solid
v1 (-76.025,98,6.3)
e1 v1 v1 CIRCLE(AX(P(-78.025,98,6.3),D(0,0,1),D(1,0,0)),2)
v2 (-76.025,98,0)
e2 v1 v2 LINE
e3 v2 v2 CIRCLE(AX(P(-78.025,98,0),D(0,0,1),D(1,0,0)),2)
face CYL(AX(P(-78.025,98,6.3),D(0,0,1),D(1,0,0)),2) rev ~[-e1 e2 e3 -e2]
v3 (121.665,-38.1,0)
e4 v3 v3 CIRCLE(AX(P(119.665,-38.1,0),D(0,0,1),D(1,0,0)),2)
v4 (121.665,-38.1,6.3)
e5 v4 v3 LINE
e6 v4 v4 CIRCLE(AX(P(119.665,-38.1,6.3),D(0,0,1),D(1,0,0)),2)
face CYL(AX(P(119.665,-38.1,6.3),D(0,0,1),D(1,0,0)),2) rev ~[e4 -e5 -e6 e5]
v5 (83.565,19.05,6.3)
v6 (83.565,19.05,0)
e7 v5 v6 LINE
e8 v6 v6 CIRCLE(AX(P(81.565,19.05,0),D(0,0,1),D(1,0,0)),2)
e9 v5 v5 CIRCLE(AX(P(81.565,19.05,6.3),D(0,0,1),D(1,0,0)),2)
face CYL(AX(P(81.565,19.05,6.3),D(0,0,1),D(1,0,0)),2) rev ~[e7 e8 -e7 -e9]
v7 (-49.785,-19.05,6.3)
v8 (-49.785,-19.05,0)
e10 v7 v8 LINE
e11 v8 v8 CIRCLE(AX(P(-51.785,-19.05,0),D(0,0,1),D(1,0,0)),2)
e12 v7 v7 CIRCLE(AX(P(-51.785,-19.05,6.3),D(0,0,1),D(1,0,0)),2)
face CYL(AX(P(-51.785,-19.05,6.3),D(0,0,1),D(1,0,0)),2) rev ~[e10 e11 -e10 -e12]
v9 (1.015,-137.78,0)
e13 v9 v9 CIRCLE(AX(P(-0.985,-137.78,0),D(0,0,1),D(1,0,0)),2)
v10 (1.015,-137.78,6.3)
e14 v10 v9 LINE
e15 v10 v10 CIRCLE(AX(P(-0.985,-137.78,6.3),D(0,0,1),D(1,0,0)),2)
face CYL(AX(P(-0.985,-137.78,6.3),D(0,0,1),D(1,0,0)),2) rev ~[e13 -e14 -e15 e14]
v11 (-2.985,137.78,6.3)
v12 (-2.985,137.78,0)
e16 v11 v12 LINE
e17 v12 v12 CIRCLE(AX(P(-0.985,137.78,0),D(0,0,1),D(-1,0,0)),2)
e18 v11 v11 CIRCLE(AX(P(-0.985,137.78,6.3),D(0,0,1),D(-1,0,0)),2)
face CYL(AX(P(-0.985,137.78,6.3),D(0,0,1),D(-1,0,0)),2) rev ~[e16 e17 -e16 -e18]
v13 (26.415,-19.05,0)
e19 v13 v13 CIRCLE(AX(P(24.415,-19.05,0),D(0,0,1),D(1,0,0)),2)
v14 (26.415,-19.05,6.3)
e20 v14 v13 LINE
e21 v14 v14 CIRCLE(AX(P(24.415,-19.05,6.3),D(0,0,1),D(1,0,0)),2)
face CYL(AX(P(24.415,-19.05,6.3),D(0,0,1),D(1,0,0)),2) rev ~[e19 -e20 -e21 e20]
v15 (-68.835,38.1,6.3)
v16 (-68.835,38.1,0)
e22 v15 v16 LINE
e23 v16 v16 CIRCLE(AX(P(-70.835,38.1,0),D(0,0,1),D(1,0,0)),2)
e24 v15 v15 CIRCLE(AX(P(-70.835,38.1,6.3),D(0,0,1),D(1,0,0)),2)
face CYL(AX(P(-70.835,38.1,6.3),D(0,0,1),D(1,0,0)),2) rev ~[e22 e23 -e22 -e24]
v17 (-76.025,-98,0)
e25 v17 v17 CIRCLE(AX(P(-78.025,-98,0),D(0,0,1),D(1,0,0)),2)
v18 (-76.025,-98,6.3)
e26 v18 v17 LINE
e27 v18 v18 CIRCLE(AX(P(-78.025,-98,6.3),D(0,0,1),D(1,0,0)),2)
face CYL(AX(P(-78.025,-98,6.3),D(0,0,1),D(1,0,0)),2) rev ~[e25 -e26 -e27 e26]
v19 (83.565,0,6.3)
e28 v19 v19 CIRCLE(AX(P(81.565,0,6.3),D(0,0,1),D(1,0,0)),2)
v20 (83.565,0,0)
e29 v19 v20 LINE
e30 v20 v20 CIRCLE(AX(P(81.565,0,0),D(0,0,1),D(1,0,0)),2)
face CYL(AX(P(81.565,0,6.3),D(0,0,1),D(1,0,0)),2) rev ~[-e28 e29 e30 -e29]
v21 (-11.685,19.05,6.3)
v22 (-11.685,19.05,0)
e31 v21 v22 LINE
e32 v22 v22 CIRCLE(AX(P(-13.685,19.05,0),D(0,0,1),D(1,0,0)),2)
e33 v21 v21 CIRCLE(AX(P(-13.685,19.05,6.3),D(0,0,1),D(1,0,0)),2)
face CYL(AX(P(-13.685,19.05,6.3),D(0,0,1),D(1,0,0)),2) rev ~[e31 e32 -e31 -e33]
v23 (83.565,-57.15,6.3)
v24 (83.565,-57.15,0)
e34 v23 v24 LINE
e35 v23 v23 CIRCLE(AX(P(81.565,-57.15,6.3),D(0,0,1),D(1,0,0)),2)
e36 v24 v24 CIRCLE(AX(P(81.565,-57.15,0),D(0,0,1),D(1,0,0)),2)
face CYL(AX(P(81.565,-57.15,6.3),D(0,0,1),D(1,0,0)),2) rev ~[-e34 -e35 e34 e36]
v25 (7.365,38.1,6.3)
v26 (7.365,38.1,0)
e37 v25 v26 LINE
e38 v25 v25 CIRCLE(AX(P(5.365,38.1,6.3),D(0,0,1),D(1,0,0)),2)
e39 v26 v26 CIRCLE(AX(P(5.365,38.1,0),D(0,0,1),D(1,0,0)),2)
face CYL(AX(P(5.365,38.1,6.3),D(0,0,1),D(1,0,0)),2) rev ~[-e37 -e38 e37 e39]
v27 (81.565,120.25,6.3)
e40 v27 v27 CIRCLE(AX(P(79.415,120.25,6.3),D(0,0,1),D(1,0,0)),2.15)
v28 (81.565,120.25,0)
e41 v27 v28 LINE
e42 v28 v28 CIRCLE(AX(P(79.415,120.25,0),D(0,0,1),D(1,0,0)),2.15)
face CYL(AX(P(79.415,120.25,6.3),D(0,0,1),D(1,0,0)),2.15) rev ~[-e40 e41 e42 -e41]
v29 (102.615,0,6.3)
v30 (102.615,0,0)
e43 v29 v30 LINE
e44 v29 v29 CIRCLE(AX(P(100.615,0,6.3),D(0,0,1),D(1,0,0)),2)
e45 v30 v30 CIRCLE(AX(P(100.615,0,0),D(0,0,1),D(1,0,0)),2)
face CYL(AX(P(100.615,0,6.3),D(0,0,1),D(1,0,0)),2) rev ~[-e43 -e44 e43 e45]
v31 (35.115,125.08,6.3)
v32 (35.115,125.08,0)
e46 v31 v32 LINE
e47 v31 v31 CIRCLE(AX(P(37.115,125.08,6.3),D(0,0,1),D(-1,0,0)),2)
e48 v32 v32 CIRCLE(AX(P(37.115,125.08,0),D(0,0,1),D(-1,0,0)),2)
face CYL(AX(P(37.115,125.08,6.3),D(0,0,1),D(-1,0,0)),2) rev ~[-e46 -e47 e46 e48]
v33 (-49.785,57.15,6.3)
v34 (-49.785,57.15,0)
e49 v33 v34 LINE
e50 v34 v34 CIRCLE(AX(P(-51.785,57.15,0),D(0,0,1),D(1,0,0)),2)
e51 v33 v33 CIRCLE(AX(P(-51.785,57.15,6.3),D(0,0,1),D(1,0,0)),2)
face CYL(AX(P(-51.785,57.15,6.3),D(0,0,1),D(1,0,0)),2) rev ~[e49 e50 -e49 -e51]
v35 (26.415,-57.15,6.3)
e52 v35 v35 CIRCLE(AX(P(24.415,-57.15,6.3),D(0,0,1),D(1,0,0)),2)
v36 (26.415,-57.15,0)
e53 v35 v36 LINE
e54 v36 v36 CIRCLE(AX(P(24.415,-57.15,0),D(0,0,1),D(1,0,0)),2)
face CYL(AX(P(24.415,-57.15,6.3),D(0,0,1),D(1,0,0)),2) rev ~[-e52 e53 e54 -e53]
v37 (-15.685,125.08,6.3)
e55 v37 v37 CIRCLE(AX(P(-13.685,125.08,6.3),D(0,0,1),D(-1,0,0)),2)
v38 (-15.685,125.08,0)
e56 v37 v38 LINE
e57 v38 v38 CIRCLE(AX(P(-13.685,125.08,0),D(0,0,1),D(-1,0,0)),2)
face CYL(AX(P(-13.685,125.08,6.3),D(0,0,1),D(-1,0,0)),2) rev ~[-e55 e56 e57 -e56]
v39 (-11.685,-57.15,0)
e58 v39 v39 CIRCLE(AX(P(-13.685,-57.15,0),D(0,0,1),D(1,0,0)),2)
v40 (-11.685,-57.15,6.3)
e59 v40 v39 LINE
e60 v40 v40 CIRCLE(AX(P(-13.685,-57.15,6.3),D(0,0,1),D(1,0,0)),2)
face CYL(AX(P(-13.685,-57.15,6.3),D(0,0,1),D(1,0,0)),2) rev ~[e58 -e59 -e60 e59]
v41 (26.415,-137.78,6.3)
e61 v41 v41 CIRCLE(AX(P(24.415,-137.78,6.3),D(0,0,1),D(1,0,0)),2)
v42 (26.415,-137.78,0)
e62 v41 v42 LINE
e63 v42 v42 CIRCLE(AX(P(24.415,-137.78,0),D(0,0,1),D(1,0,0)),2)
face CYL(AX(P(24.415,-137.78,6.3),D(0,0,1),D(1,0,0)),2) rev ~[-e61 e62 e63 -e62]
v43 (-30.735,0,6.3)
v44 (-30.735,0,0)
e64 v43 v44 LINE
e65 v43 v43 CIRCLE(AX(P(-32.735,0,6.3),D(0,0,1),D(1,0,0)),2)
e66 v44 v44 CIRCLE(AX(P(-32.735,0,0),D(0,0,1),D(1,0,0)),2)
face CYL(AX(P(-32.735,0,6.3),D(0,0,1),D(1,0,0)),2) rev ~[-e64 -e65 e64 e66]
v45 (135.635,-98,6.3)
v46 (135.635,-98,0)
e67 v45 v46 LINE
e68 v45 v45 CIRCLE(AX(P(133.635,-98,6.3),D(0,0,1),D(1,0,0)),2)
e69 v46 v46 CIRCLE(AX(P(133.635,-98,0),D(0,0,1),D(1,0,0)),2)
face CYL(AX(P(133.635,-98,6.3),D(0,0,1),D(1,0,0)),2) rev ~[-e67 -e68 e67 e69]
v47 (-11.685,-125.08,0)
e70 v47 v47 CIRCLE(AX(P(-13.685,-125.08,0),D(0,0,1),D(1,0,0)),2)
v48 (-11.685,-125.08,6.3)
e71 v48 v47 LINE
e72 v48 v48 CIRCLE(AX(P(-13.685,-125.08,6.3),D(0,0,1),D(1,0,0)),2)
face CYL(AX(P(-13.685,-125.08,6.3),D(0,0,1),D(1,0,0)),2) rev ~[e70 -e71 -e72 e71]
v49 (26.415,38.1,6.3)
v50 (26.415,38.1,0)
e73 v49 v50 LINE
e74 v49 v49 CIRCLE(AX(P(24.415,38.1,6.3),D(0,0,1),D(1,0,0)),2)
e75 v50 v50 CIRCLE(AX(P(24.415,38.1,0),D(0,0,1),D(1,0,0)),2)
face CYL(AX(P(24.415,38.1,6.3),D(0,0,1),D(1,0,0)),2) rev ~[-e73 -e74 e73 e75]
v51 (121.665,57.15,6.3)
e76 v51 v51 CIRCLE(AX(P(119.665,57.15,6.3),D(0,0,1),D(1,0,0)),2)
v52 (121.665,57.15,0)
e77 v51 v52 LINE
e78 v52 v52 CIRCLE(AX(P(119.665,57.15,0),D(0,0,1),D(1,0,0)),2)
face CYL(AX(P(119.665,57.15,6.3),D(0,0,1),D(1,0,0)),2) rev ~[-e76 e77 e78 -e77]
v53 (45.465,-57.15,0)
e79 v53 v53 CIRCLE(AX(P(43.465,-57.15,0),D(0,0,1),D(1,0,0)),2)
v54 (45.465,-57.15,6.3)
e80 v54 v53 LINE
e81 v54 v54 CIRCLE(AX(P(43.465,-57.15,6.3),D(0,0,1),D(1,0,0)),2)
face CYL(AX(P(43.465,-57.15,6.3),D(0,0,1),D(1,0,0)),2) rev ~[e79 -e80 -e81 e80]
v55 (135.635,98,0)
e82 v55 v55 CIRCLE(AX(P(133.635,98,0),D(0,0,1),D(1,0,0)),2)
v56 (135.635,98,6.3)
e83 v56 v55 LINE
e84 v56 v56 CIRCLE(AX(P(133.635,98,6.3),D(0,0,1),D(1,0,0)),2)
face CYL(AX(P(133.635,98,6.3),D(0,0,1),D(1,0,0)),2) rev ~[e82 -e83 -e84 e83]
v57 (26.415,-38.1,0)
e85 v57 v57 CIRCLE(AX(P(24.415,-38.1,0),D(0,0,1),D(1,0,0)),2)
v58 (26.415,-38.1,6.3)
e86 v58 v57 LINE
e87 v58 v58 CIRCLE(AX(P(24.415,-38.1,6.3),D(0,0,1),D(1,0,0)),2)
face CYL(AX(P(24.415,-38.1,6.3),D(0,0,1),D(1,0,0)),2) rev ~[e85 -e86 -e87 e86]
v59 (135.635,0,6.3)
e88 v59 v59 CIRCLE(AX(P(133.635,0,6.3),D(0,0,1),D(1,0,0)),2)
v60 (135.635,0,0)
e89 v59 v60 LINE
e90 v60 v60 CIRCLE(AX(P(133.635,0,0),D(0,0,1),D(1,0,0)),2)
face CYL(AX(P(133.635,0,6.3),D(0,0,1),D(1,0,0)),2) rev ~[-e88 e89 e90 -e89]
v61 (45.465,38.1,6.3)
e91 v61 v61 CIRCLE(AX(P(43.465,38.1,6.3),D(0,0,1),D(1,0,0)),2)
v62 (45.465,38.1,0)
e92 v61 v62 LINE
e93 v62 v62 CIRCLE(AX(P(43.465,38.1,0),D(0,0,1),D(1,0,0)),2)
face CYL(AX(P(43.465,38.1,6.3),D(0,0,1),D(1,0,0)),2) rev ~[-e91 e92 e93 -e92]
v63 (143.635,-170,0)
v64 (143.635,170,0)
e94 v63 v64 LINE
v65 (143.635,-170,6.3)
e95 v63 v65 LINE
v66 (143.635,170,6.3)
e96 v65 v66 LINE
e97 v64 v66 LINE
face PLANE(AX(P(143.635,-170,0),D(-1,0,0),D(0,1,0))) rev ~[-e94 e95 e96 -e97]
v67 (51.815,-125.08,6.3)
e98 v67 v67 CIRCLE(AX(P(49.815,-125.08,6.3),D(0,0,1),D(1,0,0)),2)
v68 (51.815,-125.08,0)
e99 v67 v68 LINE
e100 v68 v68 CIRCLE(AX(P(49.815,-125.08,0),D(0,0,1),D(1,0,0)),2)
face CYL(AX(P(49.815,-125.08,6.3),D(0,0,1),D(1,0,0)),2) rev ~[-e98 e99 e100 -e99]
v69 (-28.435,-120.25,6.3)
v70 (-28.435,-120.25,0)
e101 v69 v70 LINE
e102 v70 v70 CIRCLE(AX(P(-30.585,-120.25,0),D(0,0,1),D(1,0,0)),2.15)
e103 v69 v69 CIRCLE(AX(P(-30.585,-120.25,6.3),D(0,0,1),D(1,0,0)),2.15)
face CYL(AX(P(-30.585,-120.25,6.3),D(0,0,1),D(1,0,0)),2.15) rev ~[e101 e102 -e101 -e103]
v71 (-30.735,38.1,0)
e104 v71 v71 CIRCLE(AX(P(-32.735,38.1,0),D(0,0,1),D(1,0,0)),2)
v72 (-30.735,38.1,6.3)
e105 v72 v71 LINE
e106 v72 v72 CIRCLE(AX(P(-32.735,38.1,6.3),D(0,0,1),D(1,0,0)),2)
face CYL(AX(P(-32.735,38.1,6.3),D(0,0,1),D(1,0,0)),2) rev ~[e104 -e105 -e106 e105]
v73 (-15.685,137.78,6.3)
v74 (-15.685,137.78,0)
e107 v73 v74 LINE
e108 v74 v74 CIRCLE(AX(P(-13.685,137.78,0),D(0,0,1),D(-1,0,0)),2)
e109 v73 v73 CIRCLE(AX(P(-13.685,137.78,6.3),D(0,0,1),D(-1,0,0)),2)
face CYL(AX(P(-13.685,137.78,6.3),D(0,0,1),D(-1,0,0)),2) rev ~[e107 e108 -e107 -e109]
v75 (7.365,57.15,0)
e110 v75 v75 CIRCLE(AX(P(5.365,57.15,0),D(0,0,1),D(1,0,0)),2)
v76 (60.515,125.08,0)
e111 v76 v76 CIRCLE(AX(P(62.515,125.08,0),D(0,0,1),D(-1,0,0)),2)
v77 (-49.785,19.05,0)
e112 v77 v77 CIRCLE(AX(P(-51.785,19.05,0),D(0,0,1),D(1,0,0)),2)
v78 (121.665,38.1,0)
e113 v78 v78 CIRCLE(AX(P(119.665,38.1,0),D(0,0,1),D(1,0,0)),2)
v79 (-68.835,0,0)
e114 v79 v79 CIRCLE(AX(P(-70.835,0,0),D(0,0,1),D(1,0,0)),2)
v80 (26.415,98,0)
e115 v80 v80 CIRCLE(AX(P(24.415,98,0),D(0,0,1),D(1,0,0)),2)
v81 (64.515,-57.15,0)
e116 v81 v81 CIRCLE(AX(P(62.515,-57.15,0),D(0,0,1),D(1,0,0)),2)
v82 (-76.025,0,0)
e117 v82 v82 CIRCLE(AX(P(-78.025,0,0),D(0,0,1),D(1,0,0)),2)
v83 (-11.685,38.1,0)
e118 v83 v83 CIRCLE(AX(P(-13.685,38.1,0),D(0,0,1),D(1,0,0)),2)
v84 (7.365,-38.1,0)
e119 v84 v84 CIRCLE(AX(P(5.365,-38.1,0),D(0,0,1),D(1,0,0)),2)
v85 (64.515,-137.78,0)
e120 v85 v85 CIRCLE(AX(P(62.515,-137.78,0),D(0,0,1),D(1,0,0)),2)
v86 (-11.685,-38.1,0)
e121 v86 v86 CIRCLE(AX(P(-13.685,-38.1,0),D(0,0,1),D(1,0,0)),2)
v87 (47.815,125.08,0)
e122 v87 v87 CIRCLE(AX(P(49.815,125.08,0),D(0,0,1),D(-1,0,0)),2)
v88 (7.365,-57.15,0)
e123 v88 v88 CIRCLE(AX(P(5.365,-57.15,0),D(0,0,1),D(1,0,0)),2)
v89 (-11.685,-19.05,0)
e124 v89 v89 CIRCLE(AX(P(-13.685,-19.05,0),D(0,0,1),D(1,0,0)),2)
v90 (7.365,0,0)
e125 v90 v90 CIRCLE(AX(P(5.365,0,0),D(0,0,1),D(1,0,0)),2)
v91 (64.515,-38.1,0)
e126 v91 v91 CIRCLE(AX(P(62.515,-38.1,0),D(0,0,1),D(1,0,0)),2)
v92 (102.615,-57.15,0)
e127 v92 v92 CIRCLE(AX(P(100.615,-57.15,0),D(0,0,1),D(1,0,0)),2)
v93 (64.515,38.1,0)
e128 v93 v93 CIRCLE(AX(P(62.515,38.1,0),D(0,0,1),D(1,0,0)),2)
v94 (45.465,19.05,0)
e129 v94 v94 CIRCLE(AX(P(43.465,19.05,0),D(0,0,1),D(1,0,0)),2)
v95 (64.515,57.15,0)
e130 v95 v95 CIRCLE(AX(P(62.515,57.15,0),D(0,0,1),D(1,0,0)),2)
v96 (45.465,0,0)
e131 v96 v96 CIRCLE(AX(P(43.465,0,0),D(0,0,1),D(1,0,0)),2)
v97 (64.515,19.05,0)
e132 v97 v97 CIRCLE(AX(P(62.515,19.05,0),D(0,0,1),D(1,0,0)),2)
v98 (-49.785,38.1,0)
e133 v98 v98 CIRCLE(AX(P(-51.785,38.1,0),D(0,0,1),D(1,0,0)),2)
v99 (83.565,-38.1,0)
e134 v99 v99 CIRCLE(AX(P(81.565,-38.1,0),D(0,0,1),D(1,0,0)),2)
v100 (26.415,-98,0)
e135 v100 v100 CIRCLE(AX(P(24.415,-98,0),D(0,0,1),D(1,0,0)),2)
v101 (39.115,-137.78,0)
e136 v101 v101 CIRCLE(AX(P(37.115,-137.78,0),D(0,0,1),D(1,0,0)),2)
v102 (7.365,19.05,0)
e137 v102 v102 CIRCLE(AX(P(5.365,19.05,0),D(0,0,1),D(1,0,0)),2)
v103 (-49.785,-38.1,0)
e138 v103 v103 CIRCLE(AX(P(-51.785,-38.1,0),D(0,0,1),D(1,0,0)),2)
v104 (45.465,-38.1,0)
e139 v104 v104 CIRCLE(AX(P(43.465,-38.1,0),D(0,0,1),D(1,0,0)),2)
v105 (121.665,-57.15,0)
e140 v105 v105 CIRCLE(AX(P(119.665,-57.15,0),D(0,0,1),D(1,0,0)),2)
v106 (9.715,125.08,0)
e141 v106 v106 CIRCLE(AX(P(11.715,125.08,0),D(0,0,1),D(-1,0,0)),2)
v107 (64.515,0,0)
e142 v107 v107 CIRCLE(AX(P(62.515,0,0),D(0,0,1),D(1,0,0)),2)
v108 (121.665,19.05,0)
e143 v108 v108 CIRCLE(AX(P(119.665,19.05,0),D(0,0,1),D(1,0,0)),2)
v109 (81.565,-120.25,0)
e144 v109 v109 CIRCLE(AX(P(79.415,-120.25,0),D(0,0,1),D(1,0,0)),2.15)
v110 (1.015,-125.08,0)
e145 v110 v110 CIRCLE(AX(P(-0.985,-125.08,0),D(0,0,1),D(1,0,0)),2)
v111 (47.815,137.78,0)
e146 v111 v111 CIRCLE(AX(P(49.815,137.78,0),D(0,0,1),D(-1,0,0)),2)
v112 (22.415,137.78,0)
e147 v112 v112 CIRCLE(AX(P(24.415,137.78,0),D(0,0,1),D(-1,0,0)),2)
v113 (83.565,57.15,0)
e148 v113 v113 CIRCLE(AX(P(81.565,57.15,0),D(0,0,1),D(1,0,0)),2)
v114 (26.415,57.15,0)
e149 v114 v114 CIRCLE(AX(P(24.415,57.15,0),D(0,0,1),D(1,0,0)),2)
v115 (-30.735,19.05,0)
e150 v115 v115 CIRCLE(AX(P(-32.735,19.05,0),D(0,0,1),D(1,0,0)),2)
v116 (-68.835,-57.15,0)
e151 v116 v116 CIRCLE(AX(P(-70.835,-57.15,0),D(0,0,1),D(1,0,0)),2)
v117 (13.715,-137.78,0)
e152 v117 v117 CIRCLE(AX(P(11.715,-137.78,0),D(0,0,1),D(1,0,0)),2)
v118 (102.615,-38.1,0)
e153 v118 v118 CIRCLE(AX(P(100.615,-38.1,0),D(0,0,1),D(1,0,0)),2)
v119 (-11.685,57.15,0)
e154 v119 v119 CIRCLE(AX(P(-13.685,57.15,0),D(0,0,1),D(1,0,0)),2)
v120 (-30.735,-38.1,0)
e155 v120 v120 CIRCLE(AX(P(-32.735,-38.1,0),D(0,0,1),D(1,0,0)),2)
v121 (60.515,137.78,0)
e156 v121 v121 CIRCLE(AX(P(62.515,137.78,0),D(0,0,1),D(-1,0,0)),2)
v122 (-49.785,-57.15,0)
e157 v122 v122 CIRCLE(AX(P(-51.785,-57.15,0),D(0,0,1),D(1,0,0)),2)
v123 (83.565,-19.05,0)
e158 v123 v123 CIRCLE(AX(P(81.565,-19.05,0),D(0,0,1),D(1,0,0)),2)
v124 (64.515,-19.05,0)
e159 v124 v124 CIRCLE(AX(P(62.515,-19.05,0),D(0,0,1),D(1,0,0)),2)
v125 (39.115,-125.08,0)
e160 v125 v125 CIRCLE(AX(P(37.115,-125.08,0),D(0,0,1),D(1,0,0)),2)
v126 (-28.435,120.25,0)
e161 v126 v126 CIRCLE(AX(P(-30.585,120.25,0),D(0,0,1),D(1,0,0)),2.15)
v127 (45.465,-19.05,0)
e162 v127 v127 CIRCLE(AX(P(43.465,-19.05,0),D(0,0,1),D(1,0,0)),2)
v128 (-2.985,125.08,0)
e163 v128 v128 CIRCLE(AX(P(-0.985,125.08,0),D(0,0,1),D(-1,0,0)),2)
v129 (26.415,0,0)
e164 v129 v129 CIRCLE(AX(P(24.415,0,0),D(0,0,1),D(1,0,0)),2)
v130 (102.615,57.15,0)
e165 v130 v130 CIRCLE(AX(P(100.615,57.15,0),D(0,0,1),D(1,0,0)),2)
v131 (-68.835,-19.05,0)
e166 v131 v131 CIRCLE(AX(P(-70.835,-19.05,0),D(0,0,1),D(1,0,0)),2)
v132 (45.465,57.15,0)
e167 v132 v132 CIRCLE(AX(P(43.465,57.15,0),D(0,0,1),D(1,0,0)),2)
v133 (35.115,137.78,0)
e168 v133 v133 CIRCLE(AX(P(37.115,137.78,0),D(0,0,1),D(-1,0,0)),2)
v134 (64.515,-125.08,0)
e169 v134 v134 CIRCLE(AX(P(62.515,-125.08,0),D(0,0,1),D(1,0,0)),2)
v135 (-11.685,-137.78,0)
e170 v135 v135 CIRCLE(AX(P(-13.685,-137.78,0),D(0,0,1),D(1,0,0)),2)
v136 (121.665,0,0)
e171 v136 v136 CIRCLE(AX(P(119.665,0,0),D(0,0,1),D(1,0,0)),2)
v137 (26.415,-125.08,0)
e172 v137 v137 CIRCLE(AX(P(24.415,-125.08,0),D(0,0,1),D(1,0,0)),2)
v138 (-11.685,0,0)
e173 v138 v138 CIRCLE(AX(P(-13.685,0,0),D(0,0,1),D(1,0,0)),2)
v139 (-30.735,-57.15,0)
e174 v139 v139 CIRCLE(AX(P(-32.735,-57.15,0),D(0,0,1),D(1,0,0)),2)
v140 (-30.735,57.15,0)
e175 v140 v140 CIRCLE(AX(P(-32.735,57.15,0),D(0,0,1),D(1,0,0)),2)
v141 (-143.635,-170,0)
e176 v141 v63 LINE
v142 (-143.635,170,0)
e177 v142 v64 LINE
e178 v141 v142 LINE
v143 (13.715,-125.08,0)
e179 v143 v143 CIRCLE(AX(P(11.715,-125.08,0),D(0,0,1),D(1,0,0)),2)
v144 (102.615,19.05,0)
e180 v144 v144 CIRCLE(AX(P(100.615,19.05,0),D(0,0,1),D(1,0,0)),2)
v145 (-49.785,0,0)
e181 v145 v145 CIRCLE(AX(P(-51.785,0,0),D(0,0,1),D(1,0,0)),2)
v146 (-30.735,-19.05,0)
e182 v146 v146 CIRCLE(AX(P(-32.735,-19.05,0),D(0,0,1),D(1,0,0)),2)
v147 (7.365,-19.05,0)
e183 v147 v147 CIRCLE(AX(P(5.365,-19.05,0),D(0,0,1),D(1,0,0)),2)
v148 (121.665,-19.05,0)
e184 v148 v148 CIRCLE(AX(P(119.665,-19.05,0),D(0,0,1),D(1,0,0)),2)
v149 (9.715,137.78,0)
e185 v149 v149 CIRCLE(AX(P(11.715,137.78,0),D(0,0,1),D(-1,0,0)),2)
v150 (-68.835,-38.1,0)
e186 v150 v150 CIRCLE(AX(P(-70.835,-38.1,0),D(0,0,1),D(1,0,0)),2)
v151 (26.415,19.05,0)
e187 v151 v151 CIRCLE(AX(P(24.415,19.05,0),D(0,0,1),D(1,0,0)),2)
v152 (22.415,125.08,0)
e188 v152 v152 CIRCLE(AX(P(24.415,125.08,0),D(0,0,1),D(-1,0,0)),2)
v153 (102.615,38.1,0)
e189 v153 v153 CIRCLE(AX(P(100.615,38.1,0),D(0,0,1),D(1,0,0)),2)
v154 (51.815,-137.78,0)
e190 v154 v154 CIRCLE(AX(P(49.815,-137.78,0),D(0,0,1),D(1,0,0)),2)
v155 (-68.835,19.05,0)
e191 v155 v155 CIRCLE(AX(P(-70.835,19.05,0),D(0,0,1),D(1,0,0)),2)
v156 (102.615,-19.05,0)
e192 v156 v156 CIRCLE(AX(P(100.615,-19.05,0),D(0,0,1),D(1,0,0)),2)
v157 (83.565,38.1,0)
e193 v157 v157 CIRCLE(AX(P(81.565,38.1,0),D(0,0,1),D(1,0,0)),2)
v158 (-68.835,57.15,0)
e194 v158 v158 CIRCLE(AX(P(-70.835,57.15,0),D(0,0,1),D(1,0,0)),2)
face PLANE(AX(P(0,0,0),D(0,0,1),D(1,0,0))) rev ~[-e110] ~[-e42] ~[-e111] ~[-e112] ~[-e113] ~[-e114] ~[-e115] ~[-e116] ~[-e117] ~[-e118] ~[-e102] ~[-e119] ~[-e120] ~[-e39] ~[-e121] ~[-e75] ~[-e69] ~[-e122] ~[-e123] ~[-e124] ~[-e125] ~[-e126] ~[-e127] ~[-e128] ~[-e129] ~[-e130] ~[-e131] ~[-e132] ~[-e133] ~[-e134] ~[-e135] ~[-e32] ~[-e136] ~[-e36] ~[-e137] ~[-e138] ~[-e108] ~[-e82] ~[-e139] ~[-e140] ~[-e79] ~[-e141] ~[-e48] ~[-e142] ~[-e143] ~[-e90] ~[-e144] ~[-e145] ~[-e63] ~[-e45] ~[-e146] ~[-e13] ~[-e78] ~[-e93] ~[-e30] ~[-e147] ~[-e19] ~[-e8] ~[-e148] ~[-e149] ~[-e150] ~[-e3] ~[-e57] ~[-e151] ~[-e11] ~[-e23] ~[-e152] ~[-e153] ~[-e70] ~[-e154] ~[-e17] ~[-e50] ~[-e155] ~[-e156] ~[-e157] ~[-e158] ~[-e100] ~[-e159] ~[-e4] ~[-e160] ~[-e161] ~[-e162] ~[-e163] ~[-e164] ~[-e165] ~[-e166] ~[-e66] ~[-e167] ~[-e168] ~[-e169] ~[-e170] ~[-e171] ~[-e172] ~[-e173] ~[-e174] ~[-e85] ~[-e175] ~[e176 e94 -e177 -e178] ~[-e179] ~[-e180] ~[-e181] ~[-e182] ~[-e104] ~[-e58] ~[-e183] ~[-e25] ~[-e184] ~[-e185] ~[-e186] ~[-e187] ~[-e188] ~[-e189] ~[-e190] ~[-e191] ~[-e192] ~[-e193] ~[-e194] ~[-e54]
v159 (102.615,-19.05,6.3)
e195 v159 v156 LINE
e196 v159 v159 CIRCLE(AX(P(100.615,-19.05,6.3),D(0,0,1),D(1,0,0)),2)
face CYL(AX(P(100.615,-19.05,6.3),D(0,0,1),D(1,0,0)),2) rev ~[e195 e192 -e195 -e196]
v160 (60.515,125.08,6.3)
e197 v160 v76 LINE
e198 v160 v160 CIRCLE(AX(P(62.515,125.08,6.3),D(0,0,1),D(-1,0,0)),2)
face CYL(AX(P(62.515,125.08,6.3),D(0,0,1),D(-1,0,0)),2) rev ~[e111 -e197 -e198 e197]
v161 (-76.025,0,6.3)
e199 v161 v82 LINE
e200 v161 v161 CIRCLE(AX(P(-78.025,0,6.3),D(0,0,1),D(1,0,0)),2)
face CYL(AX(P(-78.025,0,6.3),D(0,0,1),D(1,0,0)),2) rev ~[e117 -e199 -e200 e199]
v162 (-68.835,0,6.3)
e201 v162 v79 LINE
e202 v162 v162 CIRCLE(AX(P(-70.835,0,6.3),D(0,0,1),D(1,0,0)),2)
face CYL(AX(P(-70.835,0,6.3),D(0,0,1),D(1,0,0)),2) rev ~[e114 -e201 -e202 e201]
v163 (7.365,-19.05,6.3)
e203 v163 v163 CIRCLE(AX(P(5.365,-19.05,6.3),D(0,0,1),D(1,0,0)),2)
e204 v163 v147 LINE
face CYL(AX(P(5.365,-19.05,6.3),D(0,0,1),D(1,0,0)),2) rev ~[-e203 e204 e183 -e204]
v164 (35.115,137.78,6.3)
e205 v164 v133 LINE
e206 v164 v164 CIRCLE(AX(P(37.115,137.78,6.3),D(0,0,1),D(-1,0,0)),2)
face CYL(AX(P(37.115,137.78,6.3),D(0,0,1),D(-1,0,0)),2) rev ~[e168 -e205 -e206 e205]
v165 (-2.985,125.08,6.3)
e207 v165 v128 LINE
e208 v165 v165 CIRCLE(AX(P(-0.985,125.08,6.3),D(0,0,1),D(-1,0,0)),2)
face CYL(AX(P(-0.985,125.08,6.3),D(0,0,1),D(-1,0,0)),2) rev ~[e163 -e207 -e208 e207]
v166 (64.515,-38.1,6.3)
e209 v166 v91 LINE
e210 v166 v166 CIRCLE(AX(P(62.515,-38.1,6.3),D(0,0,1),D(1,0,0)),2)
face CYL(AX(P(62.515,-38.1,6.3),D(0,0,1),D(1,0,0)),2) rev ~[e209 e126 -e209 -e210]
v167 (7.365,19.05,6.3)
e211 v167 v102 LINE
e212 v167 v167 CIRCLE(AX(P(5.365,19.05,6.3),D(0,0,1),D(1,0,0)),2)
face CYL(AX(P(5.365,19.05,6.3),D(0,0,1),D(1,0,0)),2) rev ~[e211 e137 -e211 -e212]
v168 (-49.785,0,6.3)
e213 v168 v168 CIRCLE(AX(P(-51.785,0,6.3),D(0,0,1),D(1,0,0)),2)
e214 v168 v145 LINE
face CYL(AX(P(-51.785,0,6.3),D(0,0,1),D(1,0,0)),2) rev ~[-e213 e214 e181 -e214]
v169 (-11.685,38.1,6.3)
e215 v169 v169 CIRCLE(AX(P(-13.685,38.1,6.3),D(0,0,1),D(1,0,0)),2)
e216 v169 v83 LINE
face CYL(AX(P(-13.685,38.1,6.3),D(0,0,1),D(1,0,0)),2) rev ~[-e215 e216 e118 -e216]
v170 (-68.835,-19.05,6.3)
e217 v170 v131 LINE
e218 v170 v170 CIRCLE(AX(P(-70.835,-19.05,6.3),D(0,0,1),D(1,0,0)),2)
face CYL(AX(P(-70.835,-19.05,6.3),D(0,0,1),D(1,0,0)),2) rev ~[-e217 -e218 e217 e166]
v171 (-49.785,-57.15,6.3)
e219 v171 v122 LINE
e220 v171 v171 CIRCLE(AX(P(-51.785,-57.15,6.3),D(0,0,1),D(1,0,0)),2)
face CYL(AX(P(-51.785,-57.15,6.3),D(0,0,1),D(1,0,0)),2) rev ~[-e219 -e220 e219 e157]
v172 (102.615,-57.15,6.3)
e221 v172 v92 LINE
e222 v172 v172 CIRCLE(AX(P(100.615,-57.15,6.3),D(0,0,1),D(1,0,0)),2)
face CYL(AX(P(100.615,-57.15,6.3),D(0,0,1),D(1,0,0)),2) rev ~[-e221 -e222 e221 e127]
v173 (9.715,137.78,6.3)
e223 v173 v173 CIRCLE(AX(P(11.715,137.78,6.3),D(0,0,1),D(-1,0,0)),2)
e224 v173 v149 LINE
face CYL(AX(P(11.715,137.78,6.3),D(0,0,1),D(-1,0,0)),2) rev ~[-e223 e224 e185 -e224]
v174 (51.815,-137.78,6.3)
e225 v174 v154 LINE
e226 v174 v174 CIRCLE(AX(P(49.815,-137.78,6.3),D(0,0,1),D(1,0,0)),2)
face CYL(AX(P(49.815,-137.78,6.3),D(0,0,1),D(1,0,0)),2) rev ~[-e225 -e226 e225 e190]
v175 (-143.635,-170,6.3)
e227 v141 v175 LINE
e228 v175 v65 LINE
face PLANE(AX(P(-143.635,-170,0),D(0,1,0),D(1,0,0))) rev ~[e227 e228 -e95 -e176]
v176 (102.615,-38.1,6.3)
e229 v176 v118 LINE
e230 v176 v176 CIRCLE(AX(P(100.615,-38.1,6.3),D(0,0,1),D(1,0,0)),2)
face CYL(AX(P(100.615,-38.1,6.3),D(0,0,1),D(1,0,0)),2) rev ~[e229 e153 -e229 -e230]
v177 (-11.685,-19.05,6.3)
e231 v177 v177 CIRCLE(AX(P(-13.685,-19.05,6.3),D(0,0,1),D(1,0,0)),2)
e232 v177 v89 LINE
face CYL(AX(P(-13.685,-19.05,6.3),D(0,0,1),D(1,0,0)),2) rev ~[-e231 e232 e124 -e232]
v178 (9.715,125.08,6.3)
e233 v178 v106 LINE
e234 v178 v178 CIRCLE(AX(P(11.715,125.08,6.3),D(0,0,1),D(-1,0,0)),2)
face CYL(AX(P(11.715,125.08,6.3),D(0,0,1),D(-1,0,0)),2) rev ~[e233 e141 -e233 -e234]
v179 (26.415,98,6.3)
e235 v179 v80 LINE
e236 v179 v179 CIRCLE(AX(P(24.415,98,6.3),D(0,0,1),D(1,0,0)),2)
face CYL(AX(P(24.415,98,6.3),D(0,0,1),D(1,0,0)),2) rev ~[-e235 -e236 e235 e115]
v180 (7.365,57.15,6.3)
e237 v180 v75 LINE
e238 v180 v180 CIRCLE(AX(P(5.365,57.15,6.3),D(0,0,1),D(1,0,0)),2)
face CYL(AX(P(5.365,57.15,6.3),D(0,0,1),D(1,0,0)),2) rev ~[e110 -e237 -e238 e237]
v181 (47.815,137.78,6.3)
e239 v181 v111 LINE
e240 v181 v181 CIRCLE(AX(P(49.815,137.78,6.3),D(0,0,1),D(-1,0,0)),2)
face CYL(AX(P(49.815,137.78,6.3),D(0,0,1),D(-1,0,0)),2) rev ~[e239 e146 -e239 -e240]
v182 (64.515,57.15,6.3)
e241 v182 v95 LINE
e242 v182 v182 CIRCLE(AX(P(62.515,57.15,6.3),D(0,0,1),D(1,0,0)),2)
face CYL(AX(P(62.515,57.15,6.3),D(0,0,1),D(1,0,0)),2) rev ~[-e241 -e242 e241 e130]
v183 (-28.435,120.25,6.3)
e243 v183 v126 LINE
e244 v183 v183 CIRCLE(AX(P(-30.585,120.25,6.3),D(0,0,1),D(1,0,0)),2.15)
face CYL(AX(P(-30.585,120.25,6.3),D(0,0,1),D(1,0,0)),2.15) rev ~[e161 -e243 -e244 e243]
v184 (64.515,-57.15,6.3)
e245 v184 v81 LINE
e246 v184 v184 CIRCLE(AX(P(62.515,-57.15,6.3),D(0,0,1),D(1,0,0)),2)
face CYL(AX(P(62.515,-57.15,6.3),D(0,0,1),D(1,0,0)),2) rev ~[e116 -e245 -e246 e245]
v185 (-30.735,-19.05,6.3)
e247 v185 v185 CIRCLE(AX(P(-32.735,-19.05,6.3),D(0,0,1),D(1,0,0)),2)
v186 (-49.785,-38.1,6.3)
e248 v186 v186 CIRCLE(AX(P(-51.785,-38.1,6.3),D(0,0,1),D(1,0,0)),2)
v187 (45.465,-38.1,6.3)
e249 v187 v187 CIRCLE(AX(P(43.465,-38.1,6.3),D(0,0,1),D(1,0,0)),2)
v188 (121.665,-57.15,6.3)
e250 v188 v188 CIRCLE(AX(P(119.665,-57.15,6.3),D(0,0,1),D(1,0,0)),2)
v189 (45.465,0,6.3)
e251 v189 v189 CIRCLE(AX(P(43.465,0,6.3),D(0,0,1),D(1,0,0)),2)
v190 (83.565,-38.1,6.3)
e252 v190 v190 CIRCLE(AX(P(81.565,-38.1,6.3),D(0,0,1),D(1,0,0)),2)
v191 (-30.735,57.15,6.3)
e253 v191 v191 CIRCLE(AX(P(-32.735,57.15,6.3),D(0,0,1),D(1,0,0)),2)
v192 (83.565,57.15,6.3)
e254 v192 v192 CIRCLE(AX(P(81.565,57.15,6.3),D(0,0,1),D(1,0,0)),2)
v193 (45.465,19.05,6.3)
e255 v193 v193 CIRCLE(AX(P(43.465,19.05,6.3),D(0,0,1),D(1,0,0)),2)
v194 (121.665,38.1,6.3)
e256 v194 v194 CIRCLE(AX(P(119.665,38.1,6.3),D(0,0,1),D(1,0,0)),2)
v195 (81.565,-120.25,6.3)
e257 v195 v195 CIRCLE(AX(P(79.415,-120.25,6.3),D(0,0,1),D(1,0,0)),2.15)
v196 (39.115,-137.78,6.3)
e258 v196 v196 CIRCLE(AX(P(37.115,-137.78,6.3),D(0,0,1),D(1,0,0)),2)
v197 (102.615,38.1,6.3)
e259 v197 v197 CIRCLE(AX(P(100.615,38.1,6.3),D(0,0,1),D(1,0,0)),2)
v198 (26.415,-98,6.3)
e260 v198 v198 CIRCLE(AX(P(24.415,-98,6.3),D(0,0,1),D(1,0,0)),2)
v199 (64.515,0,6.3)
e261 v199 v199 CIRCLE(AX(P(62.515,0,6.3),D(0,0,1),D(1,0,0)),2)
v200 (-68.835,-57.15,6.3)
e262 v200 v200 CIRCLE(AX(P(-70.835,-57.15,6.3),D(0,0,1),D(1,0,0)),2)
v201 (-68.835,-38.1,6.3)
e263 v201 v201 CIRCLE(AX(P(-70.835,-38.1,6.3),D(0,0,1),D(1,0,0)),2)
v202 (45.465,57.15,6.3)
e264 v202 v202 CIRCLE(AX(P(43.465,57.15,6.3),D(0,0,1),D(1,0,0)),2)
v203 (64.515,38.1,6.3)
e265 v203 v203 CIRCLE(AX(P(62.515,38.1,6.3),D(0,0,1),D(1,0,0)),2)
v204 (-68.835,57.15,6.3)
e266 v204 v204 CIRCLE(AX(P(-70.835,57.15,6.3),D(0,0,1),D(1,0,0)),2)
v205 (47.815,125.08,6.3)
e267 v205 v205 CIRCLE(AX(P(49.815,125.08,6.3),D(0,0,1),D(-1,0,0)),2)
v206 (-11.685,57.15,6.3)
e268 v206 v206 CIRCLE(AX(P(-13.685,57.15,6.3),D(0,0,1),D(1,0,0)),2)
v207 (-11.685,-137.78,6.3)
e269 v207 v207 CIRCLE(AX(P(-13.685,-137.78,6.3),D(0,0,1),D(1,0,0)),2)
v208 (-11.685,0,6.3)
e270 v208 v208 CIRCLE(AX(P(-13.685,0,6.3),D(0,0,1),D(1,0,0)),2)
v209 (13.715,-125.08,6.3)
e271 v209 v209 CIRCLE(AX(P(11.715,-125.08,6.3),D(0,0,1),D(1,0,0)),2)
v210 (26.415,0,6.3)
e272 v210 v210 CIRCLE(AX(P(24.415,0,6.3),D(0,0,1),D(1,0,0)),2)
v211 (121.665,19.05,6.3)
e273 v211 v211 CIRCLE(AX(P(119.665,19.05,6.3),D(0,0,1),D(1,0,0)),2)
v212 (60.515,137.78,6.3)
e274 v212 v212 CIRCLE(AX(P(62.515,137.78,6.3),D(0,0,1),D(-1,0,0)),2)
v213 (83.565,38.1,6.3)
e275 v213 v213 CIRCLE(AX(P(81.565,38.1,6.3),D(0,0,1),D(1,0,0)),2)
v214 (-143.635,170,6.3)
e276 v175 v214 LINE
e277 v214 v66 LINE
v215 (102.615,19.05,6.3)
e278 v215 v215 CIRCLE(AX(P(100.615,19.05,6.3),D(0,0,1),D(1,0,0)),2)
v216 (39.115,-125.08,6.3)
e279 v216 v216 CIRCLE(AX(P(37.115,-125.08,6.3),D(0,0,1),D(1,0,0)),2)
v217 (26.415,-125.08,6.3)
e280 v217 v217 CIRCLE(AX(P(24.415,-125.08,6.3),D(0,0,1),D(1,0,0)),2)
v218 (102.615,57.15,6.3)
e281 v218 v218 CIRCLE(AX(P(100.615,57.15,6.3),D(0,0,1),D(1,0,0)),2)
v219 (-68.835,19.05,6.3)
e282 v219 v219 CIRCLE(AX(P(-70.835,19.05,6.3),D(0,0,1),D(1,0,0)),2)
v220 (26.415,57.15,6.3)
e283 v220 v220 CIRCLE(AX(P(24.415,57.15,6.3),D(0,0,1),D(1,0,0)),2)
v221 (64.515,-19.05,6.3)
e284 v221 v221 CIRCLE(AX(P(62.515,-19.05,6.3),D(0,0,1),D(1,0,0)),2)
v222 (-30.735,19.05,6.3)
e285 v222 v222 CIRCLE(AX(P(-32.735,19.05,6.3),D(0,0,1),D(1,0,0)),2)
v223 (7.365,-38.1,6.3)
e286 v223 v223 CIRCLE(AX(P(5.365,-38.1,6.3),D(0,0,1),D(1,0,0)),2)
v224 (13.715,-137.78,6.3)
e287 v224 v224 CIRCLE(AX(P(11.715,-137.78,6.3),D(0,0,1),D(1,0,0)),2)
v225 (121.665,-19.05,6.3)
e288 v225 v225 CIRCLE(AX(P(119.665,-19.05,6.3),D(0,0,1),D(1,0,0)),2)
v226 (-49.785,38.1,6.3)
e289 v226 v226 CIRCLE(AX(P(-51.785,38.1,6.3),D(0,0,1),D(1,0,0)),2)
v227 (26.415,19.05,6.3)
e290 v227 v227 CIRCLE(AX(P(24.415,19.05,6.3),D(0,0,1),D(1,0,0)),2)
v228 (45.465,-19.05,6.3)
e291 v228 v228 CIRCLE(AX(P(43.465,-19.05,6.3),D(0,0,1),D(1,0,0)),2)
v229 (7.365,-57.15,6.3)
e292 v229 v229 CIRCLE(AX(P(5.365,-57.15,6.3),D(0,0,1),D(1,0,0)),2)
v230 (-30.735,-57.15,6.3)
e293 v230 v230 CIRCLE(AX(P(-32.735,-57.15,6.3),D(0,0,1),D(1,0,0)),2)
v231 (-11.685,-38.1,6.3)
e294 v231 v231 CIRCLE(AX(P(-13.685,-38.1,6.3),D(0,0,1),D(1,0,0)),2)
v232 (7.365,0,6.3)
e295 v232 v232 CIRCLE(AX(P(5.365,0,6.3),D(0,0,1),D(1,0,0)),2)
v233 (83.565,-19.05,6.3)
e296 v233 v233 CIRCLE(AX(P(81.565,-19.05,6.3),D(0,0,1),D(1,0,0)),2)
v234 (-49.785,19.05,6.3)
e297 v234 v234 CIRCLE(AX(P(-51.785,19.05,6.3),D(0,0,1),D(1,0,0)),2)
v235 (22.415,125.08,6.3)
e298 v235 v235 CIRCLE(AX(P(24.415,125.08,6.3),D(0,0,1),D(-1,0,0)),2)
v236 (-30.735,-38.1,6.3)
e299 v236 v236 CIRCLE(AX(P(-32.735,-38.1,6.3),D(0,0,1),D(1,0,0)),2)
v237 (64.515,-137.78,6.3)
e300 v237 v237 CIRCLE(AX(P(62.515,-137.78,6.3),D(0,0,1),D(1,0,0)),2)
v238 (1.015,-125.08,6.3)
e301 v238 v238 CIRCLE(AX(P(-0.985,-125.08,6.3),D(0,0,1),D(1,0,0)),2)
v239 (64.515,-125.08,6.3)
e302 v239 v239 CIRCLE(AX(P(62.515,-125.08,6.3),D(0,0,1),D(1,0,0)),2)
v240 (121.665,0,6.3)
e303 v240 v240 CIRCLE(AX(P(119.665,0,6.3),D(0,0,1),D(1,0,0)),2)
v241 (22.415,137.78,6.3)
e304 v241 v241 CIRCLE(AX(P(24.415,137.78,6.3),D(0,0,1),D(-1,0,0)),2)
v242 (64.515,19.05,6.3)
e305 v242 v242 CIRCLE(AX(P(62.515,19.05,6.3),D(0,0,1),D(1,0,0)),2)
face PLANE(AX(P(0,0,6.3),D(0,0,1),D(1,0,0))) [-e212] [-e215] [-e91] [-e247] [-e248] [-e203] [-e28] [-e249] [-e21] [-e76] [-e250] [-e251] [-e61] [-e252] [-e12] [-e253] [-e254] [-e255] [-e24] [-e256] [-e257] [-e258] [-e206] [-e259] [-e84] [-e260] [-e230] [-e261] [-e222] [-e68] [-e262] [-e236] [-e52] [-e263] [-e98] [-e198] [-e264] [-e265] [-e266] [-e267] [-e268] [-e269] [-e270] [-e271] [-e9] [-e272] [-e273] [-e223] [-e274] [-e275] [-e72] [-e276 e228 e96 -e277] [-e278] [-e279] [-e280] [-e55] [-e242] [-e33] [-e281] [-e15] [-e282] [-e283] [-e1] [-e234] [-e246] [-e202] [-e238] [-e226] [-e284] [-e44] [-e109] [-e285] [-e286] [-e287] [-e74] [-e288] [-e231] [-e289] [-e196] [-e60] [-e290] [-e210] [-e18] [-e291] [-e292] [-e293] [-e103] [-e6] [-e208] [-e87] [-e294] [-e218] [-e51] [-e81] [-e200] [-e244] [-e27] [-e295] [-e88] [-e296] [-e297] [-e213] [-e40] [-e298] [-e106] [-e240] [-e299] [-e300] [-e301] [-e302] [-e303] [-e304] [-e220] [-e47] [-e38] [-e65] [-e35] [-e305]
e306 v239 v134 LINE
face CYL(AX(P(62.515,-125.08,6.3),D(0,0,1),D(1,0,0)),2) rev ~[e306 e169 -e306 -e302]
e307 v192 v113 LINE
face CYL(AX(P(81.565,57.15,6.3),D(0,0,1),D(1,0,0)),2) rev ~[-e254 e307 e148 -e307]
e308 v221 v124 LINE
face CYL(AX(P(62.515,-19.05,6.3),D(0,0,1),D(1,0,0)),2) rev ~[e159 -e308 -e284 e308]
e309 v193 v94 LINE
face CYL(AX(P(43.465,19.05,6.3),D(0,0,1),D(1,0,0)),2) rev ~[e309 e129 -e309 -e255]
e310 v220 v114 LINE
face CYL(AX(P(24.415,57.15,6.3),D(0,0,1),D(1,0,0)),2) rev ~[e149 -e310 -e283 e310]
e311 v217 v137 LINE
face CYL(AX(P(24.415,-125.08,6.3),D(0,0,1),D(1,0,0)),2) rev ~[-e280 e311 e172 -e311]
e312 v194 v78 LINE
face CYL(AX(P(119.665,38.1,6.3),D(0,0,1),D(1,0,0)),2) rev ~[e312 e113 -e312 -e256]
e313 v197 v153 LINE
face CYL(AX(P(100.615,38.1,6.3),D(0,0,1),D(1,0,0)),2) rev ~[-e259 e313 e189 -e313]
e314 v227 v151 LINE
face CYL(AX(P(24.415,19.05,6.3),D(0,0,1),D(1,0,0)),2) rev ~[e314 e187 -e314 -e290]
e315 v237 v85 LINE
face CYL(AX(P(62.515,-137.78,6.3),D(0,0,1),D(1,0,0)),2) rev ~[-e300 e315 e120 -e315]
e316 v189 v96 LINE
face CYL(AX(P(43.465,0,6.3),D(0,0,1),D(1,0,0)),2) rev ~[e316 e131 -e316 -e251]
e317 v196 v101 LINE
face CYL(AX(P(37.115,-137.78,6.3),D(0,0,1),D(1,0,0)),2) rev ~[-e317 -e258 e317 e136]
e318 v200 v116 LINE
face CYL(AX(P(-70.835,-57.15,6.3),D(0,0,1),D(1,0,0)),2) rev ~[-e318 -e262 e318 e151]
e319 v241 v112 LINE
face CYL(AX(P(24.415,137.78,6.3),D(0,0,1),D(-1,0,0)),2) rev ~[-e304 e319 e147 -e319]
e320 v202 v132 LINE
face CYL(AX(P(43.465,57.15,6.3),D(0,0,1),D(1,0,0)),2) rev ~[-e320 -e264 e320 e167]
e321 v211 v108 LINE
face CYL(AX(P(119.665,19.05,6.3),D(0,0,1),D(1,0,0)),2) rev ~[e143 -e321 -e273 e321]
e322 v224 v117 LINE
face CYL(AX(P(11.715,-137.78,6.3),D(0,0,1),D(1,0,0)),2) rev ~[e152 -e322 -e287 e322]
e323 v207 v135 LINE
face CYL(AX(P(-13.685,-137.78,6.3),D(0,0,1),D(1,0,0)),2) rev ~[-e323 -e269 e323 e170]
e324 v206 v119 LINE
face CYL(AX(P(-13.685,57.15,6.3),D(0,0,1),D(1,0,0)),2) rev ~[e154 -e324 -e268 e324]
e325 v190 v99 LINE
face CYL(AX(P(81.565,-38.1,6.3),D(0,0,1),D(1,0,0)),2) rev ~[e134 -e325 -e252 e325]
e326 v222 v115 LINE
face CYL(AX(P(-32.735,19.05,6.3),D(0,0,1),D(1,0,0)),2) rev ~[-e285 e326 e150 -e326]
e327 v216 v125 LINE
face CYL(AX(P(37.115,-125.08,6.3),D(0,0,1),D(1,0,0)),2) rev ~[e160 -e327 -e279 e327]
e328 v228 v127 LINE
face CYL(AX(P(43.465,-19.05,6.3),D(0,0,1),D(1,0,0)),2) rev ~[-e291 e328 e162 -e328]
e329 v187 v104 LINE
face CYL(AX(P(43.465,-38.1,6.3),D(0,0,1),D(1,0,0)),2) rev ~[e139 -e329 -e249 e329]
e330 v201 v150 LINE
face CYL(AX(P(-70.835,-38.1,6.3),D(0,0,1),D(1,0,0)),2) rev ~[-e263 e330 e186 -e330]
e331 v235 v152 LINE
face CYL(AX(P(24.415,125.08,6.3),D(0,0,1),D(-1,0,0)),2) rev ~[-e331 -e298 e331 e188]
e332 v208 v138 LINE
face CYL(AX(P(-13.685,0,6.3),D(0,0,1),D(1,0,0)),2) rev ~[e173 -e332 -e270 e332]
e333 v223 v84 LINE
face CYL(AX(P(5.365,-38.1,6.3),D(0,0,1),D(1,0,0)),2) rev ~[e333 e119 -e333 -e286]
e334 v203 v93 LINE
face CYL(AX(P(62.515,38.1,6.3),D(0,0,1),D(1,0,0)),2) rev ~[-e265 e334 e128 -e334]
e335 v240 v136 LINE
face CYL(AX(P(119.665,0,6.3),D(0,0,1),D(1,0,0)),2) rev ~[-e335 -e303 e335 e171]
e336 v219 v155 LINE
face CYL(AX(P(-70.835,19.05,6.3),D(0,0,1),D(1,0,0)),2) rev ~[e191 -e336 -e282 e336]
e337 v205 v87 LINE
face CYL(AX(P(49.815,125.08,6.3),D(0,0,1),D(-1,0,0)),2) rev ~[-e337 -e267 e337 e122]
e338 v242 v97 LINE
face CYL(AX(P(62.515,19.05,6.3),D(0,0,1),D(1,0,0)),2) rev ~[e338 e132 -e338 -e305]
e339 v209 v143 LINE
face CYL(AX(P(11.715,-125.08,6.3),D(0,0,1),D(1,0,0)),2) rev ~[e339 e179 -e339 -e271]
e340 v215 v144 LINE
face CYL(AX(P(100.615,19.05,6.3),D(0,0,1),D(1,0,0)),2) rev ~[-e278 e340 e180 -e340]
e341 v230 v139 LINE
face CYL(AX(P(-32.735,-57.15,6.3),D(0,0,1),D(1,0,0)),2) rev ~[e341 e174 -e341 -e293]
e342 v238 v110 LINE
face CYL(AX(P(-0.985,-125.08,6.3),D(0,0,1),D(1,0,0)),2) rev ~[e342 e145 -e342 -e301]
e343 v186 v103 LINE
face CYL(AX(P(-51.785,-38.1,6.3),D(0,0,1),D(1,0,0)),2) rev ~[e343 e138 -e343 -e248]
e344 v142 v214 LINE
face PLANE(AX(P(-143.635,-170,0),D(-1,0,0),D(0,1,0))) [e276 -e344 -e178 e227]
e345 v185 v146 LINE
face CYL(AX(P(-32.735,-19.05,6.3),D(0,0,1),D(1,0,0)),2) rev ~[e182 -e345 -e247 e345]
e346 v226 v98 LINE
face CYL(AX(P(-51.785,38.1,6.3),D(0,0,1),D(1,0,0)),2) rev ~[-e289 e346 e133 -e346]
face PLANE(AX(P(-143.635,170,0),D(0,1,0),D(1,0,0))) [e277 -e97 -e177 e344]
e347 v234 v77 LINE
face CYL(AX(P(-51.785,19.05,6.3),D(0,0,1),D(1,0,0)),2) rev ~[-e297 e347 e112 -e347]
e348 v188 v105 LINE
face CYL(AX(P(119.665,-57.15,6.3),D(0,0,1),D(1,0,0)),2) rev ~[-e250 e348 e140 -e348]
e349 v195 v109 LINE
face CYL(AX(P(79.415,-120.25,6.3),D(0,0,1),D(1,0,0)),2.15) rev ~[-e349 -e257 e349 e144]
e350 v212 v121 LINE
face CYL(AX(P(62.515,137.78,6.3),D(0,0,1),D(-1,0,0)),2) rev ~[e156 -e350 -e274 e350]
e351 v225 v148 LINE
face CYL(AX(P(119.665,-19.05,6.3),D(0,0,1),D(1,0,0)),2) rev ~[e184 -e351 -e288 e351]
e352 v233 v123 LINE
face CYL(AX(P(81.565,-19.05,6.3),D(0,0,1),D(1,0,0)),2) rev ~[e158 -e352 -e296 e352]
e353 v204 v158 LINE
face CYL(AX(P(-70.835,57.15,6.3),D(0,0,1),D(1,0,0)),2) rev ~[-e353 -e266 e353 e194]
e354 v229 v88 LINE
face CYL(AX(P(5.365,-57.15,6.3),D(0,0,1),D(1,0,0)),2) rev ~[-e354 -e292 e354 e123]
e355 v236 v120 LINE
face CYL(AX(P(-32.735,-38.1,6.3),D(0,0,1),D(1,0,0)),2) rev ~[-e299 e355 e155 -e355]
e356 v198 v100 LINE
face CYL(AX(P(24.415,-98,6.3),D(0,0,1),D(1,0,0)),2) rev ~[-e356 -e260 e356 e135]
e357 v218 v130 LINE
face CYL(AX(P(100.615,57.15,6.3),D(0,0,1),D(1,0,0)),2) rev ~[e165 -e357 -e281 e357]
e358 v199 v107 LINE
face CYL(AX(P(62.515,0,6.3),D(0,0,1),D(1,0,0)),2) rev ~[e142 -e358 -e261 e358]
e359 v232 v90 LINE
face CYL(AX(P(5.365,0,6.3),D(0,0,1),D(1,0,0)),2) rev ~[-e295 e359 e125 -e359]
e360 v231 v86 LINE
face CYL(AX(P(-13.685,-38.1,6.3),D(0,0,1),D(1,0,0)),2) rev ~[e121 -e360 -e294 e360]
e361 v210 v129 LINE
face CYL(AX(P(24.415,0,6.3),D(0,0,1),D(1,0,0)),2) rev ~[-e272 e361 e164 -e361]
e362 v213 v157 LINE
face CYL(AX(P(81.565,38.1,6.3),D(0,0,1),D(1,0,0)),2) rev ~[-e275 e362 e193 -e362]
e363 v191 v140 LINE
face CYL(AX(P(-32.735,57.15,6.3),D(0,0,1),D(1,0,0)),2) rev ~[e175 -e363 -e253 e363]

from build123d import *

# Parameters (mm, degrees)
SKETCH1_W                          = 287.27
SKETCH1_H                          = 340
BASE_PLATE_EXTRUDE_DEPTH           = 6.3
SKETCH3_R                          = 2
SKETCH3_R_2                        = 2.15
PLATE_TO_PLATE_MNT_THRU_HOLE_DEPTH = 223.644791596
SKETCH4_R                          = 2
CENTER_PERFORATION_THRU_HOLE_DEPTH = 223.644791596
SKETCH5_R                          = 2
SIDE_PERFORATION_THRU_HOLE_DEPTH   = 223.644791596


with BuildPart() as part:
    # Sketch1 → Base_Plate-Extrude (new body)
    with BuildSketch(Plane.XY):
        Rectangle(SKETCH1_W, SKETCH1_H)
    extrude(amount=BASE_PLATE_EXTRUDE_DEPTH)

    # Sketch3 → Plate_to_Plate_Mnt-Thru-Hole (cut, through all)
    with BuildSketch(Plane.XY.offset(6.3)):
        with Locations((133.635, 98)):
            Circle(SKETCH3_R)
        with Locations((24.415, 98)):
            Circle(SKETCH3_R)
        with Locations((-78.025, 98)):
            Circle(SKETCH3_R)
        with Locations((-78.025, -98)):
            Circle(SKETCH3_R)
        with Locations((24.415, -98)):
            Circle(SKETCH3_R)
        with Locations((133.635, -98)):
            Circle(SKETCH3_R)
        with Locations((133.635, 0)):
            Circle(SKETCH3_R)
        with Locations((-78.025, 0)):
            Circle(SKETCH3_R)
        with Locations((79.415, -120.25)):
            Circle(SKETCH3_R_2)
        with Locations((-30.585, -120.25)):
            Circle(SKETCH3_R_2)
        with Locations((-30.585, 120.25)):
            Circle(SKETCH3_R_2)
        with Locations((79.415, 120.25)):
            Circle(SKETCH3_R_2)
    extrude(amount=-PLATE_TO_PLATE_MNT_THRU_HOLE_DEPTH, mode=Mode.SUBTRACT)

    # Sketch4 → Center_Perforation-Thru-Hole (cut, through all)
    with BuildSketch(Plane.XY.offset(6.3)):
        with Locations((-70.835, 0)):
            Circle(SKETCH4_R)
        with Locations((-51.785, 0)):
            Circle(SKETCH4_R)
        with Locations((-32.735, 0)):
            Circle(SKETCH4_R)
        with Locations((-13.685, 0)):
            Circle(SKETCH4_R)
        with Locations((5.365, 0)):
            Circle(SKETCH4_R)
        with Locations((24.415, 0)):
            Circle(SKETCH4_R)
        with Locations((43.465, 0)):
            Circle(SKETCH4_R)
        with Locations((62.515, 0)):
            Circle(SKETCH4_R)
        with Locations((81.565, 0)):
            Circle(SKETCH4_R)
        with Locations((100.615, 0)):
            Circle(SKETCH4_R)
        with Locations((119.665, 0)):
            Circle(SKETCH4_R)
        with Locations((-70.835, 19.05)):
            Circle(SKETCH4_R)
        with Locations((-51.785, 19.05)):
            Circle(SKETCH4_R)
        with Locations((-32.735, 19.05)):
            Circle(SKETCH4_R)
        with Locations((-13.685, 19.05)):
            Circle(SKETCH4_R)
        with Locations((5.365, 19.05)):
            Circle(SKETCH4_R)
        with Locations((24.415, 19.05)):
            Circle(SKETCH4_R)
        with Locations((43.465, 19.05)):
            Circle(SKETCH4_R)
        with Locations((62.515, 19.05)):
            Circle(SKETCH4_R)
        with Locations((81.565, 19.05)):
            Circle(SKETCH4_R)
        with Locations((100.615, 19.05)):
            Circle(SKETCH4_R)
        with Locations((119.665, 19.05)):
            Circle(SKETCH4_R)
        with Locations((-70.835, 38.1)):
            Circle(SKETCH4_R)
        with Locations((-51.785, 38.1)):
            Circle(SKETCH4_R)
        with Locations((-32.735, 38.1)):
            Circle(SKETCH4_R)
        with Locations((-13.685, 38.1)):
            Circle(SKETCH4_R)
        with Locations((5.365, 38.1)):
            Circle(SKETCH4_R)
        with Locations((24.415, 38.1)):
            Circle(SKETCH4_R)
        with Locations((43.465, 38.1)):
            Circle(SKETCH4_R)
        with Locations((62.515, 38.1)):
            Circle(SKETCH4_R)
        with Locations((81.565, 38.1)):
            Circle(SKETCH4_R)
        with Locations((100.615, 38.1)):
            Circle(SKETCH4_R)
        with Locations((119.665, 38.1)):
            Circle(SKETCH4_R)
        with Locations((-70.835, 57.15)):
            Circle(SKETCH4_R)
        with Locations((-51.785, 57.15)):
            Circle(SKETCH4_R)
        with Locations((-32.735, 57.15)):
            Circle(SKETCH4_R)
        with Locations((-13.685, 57.15)):
            Circle(SKETCH4_R)
        with Locations((5.365, 57.15)):
            Circle(SKETCH4_R)
        with Locations((24.415, 57.15)):
            Circle(SKETCH4_R)
        with Locations((43.465, 57.15)):
            Circle(SKETCH4_R)
        with Locations((62.515, 57.15)):
            Circle(SKETCH4_R)
        with Locations((81.565, 57.15)):
            Circle(SKETCH4_R)
        with Locations((100.615, 57.15)):
            Circle(SKETCH4_R)
        with Locations((119.665, 57.15)):
            Circle(SKETCH4_R)
        with Locations((-70.835, -19.05)):
            Circle(SKETCH4_R)
        with Locations((-51.785, -19.05)):
            Circle(SKETCH4_R)
        with Locations((-32.735, -19.05)):
            Circle(SKETCH4_R)
        with Locations((-13.685, -19.05)):
            Circle(SKETCH4_R)
        with Locations((5.365, -19.05)):
            Circle(SKETCH4_R)
        with Locations((24.415, -19.05)):
            Circle(SKETCH4_R)
        with Locations((43.465, -19.05)):
            Circle(SKETCH4_R)
        with Locations((62.515, -19.05)):
            Circle(SKETCH4_R)
        with Locations((81.565, -19.05)):
            Circle(SKETCH4_R)
        with Locations((100.615, -19.05)):
            Circle(SKETCH4_R)
        with Locations((119.665, -19.05)):
            Circle(SKETCH4_R)
        with Locations((-70.835, -38.1)):
            Circle(SKETCH4_R)
        with Locations((-51.785, -38.1)):
            Circle(SKETCH4_R)
        with Locations((-32.735, -38.1)):
            Circle(SKETCH4_R)
        with Locations((-13.685, -38.1)):
            Circle(SKETCH4_R)
        with Locations((5.365, -38.1)):
            Circle(SKETCH4_R)
        with Locations((24.415, -38.1)):
            Circle(SKETCH4_R)
        with Locations((43.465, -38.1)):
            Circle(SKETCH4_R)
        with Locations((62.515, -38.1)):
            Circle(SKETCH4_R)
        with Locations((81.565, -38.1)):
            Circle(SKETCH4_R)
        with Locations((100.615, -38.1)):
            Circle(SKETCH4_R)
        with Locations((119.665, -38.1)):
            Circle(SKETCH4_R)
        with Locations((-70.835, -57.15)):
            Circle(SKETCH4_R)
        with Locations((-51.785, -57.15)):
            Circle(SKETCH4_R)
        with Locations((-32.735, -57.15)):
            Circle(SKETCH4_R)
        with Locations((-13.685, -57.15)):
            Circle(SKETCH4_R)
        with Locations((5.365, -57.15)):
            Circle(SKETCH4_R)
        with Locations((24.415, -57.15)):
            Circle(SKETCH4_R)
        with Locations((43.465, -57.15)):
            Circle(SKETCH4_R)
        with Locations((62.515, -57.15)):
            Circle(SKETCH4_R)
        with Locations((81.565, -57.15)):
            Circle(SKETCH4_R)
        with Locations((100.615, -57.15)):
            Circle(SKETCH4_R)
        with Locations((119.665, -57.15)):
            Circle(SKETCH4_R)
    extrude(amount=-CENTER_PERFORATION_THRU_HOLE_DEPTH, mode=Mode.SUBTRACT)

    # Sketch5 → Side-Perforation-Thru-Hole (cut, through all)
    with BuildSketch(Plane.XY.offset(6.3)):
        with Locations((24.415, -125.08)):
            Circle(SKETCH5_R)
        with Locations((37.115, -125.08)):
            Circle(SKETCH5_R)
        with Locations((49.815, -125.08)):
            Circle(SKETCH5_R)
        with Locations((62.515, -125.08)):
            Circle(SKETCH5_R)
        with Locations((11.715, -125.08)):
            Circle(SKETCH5_R)
        with Locations((-0.985, -125.08)):
            Circle(SKETCH5_R)
        with Locations((-13.685, -125.08)):
            Circle(SKETCH5_R)
        with Locations((24.415, -137.78)):
            Circle(SKETCH5_R)
        with Locations((37.115, -137.78)):
            Circle(SKETCH5_R)
        with Locations((49.815, -137.78)):
            Circle(SKETCH5_R)
        with Locations((62.515, -137.78)):
            Circle(SKETCH5_R)
        with Locations((11.715, -137.78)):
            Circle(SKETCH5_R)
        with Locations((-0.985, -137.78)):
            Circle(SKETCH5_R)
        with Locations((-13.685, -137.78)):
            Circle(SKETCH5_R)
        with Locations(Location((-13.685, 137.78, 0), (0, 0, 180))):
            Circle(SKETCH5_R)
        with Locations(Location((-0.985, 137.78, 0), (0, 0, 180))):
            Circle(SKETCH5_R)
        with Locations(Location((11.715, 137.78, 0), (0, 0, 180))):
            Circle(SKETCH5_R)
        with Locations(Location((62.515, 137.78, 0), (0, 0, 180))):
            Circle(SKETCH5_R)
        with Locations(Location((49.815, 137.78, 0), (0, 0, 180))):
            Circle(SKETCH5_R)
        with Locations(Location((37.115, 137.78, 0), (0, 0, 180))):
            Circle(SKETCH5_R)
        with Locations(Location((24.415, 137.78, 0), (0, 0, 180))):
            Circle(SKETCH5_R)
        with Locations(Location((-13.685, 125.08, 0), (0, 0, 180))):
            Circle(SKETCH5_R)
        with Locations(Location((-0.985, 125.08, 0), (0, 0, 180))):
            Circle(SKETCH5_R)
        with Locations(Location((11.715, 125.08, 0), (0, 0, 180))):
            Circle(SKETCH5_R)
        with Locations(Location((62.515, 125.08, 0), (0, 0, 180))):
            Circle(SKETCH5_R)
        with Locations(Location((49.815, 125.08, 0), (0, 0, 180))):
            Circle(SKETCH5_R)
        with Locations(Location((37.115, 125.08, 0), (0, 0, 180))):
            Circle(SKETCH5_R)
        with Locations(Location((24.415, 125.08, 0), (0, 0, 180))):
            Circle(SKETCH5_R)
    extrude(amount=-SIDE_PERFORATION_THRU_HOLE_DEPTH, mode=Mode.SUBTRACT)


solid = part.part
